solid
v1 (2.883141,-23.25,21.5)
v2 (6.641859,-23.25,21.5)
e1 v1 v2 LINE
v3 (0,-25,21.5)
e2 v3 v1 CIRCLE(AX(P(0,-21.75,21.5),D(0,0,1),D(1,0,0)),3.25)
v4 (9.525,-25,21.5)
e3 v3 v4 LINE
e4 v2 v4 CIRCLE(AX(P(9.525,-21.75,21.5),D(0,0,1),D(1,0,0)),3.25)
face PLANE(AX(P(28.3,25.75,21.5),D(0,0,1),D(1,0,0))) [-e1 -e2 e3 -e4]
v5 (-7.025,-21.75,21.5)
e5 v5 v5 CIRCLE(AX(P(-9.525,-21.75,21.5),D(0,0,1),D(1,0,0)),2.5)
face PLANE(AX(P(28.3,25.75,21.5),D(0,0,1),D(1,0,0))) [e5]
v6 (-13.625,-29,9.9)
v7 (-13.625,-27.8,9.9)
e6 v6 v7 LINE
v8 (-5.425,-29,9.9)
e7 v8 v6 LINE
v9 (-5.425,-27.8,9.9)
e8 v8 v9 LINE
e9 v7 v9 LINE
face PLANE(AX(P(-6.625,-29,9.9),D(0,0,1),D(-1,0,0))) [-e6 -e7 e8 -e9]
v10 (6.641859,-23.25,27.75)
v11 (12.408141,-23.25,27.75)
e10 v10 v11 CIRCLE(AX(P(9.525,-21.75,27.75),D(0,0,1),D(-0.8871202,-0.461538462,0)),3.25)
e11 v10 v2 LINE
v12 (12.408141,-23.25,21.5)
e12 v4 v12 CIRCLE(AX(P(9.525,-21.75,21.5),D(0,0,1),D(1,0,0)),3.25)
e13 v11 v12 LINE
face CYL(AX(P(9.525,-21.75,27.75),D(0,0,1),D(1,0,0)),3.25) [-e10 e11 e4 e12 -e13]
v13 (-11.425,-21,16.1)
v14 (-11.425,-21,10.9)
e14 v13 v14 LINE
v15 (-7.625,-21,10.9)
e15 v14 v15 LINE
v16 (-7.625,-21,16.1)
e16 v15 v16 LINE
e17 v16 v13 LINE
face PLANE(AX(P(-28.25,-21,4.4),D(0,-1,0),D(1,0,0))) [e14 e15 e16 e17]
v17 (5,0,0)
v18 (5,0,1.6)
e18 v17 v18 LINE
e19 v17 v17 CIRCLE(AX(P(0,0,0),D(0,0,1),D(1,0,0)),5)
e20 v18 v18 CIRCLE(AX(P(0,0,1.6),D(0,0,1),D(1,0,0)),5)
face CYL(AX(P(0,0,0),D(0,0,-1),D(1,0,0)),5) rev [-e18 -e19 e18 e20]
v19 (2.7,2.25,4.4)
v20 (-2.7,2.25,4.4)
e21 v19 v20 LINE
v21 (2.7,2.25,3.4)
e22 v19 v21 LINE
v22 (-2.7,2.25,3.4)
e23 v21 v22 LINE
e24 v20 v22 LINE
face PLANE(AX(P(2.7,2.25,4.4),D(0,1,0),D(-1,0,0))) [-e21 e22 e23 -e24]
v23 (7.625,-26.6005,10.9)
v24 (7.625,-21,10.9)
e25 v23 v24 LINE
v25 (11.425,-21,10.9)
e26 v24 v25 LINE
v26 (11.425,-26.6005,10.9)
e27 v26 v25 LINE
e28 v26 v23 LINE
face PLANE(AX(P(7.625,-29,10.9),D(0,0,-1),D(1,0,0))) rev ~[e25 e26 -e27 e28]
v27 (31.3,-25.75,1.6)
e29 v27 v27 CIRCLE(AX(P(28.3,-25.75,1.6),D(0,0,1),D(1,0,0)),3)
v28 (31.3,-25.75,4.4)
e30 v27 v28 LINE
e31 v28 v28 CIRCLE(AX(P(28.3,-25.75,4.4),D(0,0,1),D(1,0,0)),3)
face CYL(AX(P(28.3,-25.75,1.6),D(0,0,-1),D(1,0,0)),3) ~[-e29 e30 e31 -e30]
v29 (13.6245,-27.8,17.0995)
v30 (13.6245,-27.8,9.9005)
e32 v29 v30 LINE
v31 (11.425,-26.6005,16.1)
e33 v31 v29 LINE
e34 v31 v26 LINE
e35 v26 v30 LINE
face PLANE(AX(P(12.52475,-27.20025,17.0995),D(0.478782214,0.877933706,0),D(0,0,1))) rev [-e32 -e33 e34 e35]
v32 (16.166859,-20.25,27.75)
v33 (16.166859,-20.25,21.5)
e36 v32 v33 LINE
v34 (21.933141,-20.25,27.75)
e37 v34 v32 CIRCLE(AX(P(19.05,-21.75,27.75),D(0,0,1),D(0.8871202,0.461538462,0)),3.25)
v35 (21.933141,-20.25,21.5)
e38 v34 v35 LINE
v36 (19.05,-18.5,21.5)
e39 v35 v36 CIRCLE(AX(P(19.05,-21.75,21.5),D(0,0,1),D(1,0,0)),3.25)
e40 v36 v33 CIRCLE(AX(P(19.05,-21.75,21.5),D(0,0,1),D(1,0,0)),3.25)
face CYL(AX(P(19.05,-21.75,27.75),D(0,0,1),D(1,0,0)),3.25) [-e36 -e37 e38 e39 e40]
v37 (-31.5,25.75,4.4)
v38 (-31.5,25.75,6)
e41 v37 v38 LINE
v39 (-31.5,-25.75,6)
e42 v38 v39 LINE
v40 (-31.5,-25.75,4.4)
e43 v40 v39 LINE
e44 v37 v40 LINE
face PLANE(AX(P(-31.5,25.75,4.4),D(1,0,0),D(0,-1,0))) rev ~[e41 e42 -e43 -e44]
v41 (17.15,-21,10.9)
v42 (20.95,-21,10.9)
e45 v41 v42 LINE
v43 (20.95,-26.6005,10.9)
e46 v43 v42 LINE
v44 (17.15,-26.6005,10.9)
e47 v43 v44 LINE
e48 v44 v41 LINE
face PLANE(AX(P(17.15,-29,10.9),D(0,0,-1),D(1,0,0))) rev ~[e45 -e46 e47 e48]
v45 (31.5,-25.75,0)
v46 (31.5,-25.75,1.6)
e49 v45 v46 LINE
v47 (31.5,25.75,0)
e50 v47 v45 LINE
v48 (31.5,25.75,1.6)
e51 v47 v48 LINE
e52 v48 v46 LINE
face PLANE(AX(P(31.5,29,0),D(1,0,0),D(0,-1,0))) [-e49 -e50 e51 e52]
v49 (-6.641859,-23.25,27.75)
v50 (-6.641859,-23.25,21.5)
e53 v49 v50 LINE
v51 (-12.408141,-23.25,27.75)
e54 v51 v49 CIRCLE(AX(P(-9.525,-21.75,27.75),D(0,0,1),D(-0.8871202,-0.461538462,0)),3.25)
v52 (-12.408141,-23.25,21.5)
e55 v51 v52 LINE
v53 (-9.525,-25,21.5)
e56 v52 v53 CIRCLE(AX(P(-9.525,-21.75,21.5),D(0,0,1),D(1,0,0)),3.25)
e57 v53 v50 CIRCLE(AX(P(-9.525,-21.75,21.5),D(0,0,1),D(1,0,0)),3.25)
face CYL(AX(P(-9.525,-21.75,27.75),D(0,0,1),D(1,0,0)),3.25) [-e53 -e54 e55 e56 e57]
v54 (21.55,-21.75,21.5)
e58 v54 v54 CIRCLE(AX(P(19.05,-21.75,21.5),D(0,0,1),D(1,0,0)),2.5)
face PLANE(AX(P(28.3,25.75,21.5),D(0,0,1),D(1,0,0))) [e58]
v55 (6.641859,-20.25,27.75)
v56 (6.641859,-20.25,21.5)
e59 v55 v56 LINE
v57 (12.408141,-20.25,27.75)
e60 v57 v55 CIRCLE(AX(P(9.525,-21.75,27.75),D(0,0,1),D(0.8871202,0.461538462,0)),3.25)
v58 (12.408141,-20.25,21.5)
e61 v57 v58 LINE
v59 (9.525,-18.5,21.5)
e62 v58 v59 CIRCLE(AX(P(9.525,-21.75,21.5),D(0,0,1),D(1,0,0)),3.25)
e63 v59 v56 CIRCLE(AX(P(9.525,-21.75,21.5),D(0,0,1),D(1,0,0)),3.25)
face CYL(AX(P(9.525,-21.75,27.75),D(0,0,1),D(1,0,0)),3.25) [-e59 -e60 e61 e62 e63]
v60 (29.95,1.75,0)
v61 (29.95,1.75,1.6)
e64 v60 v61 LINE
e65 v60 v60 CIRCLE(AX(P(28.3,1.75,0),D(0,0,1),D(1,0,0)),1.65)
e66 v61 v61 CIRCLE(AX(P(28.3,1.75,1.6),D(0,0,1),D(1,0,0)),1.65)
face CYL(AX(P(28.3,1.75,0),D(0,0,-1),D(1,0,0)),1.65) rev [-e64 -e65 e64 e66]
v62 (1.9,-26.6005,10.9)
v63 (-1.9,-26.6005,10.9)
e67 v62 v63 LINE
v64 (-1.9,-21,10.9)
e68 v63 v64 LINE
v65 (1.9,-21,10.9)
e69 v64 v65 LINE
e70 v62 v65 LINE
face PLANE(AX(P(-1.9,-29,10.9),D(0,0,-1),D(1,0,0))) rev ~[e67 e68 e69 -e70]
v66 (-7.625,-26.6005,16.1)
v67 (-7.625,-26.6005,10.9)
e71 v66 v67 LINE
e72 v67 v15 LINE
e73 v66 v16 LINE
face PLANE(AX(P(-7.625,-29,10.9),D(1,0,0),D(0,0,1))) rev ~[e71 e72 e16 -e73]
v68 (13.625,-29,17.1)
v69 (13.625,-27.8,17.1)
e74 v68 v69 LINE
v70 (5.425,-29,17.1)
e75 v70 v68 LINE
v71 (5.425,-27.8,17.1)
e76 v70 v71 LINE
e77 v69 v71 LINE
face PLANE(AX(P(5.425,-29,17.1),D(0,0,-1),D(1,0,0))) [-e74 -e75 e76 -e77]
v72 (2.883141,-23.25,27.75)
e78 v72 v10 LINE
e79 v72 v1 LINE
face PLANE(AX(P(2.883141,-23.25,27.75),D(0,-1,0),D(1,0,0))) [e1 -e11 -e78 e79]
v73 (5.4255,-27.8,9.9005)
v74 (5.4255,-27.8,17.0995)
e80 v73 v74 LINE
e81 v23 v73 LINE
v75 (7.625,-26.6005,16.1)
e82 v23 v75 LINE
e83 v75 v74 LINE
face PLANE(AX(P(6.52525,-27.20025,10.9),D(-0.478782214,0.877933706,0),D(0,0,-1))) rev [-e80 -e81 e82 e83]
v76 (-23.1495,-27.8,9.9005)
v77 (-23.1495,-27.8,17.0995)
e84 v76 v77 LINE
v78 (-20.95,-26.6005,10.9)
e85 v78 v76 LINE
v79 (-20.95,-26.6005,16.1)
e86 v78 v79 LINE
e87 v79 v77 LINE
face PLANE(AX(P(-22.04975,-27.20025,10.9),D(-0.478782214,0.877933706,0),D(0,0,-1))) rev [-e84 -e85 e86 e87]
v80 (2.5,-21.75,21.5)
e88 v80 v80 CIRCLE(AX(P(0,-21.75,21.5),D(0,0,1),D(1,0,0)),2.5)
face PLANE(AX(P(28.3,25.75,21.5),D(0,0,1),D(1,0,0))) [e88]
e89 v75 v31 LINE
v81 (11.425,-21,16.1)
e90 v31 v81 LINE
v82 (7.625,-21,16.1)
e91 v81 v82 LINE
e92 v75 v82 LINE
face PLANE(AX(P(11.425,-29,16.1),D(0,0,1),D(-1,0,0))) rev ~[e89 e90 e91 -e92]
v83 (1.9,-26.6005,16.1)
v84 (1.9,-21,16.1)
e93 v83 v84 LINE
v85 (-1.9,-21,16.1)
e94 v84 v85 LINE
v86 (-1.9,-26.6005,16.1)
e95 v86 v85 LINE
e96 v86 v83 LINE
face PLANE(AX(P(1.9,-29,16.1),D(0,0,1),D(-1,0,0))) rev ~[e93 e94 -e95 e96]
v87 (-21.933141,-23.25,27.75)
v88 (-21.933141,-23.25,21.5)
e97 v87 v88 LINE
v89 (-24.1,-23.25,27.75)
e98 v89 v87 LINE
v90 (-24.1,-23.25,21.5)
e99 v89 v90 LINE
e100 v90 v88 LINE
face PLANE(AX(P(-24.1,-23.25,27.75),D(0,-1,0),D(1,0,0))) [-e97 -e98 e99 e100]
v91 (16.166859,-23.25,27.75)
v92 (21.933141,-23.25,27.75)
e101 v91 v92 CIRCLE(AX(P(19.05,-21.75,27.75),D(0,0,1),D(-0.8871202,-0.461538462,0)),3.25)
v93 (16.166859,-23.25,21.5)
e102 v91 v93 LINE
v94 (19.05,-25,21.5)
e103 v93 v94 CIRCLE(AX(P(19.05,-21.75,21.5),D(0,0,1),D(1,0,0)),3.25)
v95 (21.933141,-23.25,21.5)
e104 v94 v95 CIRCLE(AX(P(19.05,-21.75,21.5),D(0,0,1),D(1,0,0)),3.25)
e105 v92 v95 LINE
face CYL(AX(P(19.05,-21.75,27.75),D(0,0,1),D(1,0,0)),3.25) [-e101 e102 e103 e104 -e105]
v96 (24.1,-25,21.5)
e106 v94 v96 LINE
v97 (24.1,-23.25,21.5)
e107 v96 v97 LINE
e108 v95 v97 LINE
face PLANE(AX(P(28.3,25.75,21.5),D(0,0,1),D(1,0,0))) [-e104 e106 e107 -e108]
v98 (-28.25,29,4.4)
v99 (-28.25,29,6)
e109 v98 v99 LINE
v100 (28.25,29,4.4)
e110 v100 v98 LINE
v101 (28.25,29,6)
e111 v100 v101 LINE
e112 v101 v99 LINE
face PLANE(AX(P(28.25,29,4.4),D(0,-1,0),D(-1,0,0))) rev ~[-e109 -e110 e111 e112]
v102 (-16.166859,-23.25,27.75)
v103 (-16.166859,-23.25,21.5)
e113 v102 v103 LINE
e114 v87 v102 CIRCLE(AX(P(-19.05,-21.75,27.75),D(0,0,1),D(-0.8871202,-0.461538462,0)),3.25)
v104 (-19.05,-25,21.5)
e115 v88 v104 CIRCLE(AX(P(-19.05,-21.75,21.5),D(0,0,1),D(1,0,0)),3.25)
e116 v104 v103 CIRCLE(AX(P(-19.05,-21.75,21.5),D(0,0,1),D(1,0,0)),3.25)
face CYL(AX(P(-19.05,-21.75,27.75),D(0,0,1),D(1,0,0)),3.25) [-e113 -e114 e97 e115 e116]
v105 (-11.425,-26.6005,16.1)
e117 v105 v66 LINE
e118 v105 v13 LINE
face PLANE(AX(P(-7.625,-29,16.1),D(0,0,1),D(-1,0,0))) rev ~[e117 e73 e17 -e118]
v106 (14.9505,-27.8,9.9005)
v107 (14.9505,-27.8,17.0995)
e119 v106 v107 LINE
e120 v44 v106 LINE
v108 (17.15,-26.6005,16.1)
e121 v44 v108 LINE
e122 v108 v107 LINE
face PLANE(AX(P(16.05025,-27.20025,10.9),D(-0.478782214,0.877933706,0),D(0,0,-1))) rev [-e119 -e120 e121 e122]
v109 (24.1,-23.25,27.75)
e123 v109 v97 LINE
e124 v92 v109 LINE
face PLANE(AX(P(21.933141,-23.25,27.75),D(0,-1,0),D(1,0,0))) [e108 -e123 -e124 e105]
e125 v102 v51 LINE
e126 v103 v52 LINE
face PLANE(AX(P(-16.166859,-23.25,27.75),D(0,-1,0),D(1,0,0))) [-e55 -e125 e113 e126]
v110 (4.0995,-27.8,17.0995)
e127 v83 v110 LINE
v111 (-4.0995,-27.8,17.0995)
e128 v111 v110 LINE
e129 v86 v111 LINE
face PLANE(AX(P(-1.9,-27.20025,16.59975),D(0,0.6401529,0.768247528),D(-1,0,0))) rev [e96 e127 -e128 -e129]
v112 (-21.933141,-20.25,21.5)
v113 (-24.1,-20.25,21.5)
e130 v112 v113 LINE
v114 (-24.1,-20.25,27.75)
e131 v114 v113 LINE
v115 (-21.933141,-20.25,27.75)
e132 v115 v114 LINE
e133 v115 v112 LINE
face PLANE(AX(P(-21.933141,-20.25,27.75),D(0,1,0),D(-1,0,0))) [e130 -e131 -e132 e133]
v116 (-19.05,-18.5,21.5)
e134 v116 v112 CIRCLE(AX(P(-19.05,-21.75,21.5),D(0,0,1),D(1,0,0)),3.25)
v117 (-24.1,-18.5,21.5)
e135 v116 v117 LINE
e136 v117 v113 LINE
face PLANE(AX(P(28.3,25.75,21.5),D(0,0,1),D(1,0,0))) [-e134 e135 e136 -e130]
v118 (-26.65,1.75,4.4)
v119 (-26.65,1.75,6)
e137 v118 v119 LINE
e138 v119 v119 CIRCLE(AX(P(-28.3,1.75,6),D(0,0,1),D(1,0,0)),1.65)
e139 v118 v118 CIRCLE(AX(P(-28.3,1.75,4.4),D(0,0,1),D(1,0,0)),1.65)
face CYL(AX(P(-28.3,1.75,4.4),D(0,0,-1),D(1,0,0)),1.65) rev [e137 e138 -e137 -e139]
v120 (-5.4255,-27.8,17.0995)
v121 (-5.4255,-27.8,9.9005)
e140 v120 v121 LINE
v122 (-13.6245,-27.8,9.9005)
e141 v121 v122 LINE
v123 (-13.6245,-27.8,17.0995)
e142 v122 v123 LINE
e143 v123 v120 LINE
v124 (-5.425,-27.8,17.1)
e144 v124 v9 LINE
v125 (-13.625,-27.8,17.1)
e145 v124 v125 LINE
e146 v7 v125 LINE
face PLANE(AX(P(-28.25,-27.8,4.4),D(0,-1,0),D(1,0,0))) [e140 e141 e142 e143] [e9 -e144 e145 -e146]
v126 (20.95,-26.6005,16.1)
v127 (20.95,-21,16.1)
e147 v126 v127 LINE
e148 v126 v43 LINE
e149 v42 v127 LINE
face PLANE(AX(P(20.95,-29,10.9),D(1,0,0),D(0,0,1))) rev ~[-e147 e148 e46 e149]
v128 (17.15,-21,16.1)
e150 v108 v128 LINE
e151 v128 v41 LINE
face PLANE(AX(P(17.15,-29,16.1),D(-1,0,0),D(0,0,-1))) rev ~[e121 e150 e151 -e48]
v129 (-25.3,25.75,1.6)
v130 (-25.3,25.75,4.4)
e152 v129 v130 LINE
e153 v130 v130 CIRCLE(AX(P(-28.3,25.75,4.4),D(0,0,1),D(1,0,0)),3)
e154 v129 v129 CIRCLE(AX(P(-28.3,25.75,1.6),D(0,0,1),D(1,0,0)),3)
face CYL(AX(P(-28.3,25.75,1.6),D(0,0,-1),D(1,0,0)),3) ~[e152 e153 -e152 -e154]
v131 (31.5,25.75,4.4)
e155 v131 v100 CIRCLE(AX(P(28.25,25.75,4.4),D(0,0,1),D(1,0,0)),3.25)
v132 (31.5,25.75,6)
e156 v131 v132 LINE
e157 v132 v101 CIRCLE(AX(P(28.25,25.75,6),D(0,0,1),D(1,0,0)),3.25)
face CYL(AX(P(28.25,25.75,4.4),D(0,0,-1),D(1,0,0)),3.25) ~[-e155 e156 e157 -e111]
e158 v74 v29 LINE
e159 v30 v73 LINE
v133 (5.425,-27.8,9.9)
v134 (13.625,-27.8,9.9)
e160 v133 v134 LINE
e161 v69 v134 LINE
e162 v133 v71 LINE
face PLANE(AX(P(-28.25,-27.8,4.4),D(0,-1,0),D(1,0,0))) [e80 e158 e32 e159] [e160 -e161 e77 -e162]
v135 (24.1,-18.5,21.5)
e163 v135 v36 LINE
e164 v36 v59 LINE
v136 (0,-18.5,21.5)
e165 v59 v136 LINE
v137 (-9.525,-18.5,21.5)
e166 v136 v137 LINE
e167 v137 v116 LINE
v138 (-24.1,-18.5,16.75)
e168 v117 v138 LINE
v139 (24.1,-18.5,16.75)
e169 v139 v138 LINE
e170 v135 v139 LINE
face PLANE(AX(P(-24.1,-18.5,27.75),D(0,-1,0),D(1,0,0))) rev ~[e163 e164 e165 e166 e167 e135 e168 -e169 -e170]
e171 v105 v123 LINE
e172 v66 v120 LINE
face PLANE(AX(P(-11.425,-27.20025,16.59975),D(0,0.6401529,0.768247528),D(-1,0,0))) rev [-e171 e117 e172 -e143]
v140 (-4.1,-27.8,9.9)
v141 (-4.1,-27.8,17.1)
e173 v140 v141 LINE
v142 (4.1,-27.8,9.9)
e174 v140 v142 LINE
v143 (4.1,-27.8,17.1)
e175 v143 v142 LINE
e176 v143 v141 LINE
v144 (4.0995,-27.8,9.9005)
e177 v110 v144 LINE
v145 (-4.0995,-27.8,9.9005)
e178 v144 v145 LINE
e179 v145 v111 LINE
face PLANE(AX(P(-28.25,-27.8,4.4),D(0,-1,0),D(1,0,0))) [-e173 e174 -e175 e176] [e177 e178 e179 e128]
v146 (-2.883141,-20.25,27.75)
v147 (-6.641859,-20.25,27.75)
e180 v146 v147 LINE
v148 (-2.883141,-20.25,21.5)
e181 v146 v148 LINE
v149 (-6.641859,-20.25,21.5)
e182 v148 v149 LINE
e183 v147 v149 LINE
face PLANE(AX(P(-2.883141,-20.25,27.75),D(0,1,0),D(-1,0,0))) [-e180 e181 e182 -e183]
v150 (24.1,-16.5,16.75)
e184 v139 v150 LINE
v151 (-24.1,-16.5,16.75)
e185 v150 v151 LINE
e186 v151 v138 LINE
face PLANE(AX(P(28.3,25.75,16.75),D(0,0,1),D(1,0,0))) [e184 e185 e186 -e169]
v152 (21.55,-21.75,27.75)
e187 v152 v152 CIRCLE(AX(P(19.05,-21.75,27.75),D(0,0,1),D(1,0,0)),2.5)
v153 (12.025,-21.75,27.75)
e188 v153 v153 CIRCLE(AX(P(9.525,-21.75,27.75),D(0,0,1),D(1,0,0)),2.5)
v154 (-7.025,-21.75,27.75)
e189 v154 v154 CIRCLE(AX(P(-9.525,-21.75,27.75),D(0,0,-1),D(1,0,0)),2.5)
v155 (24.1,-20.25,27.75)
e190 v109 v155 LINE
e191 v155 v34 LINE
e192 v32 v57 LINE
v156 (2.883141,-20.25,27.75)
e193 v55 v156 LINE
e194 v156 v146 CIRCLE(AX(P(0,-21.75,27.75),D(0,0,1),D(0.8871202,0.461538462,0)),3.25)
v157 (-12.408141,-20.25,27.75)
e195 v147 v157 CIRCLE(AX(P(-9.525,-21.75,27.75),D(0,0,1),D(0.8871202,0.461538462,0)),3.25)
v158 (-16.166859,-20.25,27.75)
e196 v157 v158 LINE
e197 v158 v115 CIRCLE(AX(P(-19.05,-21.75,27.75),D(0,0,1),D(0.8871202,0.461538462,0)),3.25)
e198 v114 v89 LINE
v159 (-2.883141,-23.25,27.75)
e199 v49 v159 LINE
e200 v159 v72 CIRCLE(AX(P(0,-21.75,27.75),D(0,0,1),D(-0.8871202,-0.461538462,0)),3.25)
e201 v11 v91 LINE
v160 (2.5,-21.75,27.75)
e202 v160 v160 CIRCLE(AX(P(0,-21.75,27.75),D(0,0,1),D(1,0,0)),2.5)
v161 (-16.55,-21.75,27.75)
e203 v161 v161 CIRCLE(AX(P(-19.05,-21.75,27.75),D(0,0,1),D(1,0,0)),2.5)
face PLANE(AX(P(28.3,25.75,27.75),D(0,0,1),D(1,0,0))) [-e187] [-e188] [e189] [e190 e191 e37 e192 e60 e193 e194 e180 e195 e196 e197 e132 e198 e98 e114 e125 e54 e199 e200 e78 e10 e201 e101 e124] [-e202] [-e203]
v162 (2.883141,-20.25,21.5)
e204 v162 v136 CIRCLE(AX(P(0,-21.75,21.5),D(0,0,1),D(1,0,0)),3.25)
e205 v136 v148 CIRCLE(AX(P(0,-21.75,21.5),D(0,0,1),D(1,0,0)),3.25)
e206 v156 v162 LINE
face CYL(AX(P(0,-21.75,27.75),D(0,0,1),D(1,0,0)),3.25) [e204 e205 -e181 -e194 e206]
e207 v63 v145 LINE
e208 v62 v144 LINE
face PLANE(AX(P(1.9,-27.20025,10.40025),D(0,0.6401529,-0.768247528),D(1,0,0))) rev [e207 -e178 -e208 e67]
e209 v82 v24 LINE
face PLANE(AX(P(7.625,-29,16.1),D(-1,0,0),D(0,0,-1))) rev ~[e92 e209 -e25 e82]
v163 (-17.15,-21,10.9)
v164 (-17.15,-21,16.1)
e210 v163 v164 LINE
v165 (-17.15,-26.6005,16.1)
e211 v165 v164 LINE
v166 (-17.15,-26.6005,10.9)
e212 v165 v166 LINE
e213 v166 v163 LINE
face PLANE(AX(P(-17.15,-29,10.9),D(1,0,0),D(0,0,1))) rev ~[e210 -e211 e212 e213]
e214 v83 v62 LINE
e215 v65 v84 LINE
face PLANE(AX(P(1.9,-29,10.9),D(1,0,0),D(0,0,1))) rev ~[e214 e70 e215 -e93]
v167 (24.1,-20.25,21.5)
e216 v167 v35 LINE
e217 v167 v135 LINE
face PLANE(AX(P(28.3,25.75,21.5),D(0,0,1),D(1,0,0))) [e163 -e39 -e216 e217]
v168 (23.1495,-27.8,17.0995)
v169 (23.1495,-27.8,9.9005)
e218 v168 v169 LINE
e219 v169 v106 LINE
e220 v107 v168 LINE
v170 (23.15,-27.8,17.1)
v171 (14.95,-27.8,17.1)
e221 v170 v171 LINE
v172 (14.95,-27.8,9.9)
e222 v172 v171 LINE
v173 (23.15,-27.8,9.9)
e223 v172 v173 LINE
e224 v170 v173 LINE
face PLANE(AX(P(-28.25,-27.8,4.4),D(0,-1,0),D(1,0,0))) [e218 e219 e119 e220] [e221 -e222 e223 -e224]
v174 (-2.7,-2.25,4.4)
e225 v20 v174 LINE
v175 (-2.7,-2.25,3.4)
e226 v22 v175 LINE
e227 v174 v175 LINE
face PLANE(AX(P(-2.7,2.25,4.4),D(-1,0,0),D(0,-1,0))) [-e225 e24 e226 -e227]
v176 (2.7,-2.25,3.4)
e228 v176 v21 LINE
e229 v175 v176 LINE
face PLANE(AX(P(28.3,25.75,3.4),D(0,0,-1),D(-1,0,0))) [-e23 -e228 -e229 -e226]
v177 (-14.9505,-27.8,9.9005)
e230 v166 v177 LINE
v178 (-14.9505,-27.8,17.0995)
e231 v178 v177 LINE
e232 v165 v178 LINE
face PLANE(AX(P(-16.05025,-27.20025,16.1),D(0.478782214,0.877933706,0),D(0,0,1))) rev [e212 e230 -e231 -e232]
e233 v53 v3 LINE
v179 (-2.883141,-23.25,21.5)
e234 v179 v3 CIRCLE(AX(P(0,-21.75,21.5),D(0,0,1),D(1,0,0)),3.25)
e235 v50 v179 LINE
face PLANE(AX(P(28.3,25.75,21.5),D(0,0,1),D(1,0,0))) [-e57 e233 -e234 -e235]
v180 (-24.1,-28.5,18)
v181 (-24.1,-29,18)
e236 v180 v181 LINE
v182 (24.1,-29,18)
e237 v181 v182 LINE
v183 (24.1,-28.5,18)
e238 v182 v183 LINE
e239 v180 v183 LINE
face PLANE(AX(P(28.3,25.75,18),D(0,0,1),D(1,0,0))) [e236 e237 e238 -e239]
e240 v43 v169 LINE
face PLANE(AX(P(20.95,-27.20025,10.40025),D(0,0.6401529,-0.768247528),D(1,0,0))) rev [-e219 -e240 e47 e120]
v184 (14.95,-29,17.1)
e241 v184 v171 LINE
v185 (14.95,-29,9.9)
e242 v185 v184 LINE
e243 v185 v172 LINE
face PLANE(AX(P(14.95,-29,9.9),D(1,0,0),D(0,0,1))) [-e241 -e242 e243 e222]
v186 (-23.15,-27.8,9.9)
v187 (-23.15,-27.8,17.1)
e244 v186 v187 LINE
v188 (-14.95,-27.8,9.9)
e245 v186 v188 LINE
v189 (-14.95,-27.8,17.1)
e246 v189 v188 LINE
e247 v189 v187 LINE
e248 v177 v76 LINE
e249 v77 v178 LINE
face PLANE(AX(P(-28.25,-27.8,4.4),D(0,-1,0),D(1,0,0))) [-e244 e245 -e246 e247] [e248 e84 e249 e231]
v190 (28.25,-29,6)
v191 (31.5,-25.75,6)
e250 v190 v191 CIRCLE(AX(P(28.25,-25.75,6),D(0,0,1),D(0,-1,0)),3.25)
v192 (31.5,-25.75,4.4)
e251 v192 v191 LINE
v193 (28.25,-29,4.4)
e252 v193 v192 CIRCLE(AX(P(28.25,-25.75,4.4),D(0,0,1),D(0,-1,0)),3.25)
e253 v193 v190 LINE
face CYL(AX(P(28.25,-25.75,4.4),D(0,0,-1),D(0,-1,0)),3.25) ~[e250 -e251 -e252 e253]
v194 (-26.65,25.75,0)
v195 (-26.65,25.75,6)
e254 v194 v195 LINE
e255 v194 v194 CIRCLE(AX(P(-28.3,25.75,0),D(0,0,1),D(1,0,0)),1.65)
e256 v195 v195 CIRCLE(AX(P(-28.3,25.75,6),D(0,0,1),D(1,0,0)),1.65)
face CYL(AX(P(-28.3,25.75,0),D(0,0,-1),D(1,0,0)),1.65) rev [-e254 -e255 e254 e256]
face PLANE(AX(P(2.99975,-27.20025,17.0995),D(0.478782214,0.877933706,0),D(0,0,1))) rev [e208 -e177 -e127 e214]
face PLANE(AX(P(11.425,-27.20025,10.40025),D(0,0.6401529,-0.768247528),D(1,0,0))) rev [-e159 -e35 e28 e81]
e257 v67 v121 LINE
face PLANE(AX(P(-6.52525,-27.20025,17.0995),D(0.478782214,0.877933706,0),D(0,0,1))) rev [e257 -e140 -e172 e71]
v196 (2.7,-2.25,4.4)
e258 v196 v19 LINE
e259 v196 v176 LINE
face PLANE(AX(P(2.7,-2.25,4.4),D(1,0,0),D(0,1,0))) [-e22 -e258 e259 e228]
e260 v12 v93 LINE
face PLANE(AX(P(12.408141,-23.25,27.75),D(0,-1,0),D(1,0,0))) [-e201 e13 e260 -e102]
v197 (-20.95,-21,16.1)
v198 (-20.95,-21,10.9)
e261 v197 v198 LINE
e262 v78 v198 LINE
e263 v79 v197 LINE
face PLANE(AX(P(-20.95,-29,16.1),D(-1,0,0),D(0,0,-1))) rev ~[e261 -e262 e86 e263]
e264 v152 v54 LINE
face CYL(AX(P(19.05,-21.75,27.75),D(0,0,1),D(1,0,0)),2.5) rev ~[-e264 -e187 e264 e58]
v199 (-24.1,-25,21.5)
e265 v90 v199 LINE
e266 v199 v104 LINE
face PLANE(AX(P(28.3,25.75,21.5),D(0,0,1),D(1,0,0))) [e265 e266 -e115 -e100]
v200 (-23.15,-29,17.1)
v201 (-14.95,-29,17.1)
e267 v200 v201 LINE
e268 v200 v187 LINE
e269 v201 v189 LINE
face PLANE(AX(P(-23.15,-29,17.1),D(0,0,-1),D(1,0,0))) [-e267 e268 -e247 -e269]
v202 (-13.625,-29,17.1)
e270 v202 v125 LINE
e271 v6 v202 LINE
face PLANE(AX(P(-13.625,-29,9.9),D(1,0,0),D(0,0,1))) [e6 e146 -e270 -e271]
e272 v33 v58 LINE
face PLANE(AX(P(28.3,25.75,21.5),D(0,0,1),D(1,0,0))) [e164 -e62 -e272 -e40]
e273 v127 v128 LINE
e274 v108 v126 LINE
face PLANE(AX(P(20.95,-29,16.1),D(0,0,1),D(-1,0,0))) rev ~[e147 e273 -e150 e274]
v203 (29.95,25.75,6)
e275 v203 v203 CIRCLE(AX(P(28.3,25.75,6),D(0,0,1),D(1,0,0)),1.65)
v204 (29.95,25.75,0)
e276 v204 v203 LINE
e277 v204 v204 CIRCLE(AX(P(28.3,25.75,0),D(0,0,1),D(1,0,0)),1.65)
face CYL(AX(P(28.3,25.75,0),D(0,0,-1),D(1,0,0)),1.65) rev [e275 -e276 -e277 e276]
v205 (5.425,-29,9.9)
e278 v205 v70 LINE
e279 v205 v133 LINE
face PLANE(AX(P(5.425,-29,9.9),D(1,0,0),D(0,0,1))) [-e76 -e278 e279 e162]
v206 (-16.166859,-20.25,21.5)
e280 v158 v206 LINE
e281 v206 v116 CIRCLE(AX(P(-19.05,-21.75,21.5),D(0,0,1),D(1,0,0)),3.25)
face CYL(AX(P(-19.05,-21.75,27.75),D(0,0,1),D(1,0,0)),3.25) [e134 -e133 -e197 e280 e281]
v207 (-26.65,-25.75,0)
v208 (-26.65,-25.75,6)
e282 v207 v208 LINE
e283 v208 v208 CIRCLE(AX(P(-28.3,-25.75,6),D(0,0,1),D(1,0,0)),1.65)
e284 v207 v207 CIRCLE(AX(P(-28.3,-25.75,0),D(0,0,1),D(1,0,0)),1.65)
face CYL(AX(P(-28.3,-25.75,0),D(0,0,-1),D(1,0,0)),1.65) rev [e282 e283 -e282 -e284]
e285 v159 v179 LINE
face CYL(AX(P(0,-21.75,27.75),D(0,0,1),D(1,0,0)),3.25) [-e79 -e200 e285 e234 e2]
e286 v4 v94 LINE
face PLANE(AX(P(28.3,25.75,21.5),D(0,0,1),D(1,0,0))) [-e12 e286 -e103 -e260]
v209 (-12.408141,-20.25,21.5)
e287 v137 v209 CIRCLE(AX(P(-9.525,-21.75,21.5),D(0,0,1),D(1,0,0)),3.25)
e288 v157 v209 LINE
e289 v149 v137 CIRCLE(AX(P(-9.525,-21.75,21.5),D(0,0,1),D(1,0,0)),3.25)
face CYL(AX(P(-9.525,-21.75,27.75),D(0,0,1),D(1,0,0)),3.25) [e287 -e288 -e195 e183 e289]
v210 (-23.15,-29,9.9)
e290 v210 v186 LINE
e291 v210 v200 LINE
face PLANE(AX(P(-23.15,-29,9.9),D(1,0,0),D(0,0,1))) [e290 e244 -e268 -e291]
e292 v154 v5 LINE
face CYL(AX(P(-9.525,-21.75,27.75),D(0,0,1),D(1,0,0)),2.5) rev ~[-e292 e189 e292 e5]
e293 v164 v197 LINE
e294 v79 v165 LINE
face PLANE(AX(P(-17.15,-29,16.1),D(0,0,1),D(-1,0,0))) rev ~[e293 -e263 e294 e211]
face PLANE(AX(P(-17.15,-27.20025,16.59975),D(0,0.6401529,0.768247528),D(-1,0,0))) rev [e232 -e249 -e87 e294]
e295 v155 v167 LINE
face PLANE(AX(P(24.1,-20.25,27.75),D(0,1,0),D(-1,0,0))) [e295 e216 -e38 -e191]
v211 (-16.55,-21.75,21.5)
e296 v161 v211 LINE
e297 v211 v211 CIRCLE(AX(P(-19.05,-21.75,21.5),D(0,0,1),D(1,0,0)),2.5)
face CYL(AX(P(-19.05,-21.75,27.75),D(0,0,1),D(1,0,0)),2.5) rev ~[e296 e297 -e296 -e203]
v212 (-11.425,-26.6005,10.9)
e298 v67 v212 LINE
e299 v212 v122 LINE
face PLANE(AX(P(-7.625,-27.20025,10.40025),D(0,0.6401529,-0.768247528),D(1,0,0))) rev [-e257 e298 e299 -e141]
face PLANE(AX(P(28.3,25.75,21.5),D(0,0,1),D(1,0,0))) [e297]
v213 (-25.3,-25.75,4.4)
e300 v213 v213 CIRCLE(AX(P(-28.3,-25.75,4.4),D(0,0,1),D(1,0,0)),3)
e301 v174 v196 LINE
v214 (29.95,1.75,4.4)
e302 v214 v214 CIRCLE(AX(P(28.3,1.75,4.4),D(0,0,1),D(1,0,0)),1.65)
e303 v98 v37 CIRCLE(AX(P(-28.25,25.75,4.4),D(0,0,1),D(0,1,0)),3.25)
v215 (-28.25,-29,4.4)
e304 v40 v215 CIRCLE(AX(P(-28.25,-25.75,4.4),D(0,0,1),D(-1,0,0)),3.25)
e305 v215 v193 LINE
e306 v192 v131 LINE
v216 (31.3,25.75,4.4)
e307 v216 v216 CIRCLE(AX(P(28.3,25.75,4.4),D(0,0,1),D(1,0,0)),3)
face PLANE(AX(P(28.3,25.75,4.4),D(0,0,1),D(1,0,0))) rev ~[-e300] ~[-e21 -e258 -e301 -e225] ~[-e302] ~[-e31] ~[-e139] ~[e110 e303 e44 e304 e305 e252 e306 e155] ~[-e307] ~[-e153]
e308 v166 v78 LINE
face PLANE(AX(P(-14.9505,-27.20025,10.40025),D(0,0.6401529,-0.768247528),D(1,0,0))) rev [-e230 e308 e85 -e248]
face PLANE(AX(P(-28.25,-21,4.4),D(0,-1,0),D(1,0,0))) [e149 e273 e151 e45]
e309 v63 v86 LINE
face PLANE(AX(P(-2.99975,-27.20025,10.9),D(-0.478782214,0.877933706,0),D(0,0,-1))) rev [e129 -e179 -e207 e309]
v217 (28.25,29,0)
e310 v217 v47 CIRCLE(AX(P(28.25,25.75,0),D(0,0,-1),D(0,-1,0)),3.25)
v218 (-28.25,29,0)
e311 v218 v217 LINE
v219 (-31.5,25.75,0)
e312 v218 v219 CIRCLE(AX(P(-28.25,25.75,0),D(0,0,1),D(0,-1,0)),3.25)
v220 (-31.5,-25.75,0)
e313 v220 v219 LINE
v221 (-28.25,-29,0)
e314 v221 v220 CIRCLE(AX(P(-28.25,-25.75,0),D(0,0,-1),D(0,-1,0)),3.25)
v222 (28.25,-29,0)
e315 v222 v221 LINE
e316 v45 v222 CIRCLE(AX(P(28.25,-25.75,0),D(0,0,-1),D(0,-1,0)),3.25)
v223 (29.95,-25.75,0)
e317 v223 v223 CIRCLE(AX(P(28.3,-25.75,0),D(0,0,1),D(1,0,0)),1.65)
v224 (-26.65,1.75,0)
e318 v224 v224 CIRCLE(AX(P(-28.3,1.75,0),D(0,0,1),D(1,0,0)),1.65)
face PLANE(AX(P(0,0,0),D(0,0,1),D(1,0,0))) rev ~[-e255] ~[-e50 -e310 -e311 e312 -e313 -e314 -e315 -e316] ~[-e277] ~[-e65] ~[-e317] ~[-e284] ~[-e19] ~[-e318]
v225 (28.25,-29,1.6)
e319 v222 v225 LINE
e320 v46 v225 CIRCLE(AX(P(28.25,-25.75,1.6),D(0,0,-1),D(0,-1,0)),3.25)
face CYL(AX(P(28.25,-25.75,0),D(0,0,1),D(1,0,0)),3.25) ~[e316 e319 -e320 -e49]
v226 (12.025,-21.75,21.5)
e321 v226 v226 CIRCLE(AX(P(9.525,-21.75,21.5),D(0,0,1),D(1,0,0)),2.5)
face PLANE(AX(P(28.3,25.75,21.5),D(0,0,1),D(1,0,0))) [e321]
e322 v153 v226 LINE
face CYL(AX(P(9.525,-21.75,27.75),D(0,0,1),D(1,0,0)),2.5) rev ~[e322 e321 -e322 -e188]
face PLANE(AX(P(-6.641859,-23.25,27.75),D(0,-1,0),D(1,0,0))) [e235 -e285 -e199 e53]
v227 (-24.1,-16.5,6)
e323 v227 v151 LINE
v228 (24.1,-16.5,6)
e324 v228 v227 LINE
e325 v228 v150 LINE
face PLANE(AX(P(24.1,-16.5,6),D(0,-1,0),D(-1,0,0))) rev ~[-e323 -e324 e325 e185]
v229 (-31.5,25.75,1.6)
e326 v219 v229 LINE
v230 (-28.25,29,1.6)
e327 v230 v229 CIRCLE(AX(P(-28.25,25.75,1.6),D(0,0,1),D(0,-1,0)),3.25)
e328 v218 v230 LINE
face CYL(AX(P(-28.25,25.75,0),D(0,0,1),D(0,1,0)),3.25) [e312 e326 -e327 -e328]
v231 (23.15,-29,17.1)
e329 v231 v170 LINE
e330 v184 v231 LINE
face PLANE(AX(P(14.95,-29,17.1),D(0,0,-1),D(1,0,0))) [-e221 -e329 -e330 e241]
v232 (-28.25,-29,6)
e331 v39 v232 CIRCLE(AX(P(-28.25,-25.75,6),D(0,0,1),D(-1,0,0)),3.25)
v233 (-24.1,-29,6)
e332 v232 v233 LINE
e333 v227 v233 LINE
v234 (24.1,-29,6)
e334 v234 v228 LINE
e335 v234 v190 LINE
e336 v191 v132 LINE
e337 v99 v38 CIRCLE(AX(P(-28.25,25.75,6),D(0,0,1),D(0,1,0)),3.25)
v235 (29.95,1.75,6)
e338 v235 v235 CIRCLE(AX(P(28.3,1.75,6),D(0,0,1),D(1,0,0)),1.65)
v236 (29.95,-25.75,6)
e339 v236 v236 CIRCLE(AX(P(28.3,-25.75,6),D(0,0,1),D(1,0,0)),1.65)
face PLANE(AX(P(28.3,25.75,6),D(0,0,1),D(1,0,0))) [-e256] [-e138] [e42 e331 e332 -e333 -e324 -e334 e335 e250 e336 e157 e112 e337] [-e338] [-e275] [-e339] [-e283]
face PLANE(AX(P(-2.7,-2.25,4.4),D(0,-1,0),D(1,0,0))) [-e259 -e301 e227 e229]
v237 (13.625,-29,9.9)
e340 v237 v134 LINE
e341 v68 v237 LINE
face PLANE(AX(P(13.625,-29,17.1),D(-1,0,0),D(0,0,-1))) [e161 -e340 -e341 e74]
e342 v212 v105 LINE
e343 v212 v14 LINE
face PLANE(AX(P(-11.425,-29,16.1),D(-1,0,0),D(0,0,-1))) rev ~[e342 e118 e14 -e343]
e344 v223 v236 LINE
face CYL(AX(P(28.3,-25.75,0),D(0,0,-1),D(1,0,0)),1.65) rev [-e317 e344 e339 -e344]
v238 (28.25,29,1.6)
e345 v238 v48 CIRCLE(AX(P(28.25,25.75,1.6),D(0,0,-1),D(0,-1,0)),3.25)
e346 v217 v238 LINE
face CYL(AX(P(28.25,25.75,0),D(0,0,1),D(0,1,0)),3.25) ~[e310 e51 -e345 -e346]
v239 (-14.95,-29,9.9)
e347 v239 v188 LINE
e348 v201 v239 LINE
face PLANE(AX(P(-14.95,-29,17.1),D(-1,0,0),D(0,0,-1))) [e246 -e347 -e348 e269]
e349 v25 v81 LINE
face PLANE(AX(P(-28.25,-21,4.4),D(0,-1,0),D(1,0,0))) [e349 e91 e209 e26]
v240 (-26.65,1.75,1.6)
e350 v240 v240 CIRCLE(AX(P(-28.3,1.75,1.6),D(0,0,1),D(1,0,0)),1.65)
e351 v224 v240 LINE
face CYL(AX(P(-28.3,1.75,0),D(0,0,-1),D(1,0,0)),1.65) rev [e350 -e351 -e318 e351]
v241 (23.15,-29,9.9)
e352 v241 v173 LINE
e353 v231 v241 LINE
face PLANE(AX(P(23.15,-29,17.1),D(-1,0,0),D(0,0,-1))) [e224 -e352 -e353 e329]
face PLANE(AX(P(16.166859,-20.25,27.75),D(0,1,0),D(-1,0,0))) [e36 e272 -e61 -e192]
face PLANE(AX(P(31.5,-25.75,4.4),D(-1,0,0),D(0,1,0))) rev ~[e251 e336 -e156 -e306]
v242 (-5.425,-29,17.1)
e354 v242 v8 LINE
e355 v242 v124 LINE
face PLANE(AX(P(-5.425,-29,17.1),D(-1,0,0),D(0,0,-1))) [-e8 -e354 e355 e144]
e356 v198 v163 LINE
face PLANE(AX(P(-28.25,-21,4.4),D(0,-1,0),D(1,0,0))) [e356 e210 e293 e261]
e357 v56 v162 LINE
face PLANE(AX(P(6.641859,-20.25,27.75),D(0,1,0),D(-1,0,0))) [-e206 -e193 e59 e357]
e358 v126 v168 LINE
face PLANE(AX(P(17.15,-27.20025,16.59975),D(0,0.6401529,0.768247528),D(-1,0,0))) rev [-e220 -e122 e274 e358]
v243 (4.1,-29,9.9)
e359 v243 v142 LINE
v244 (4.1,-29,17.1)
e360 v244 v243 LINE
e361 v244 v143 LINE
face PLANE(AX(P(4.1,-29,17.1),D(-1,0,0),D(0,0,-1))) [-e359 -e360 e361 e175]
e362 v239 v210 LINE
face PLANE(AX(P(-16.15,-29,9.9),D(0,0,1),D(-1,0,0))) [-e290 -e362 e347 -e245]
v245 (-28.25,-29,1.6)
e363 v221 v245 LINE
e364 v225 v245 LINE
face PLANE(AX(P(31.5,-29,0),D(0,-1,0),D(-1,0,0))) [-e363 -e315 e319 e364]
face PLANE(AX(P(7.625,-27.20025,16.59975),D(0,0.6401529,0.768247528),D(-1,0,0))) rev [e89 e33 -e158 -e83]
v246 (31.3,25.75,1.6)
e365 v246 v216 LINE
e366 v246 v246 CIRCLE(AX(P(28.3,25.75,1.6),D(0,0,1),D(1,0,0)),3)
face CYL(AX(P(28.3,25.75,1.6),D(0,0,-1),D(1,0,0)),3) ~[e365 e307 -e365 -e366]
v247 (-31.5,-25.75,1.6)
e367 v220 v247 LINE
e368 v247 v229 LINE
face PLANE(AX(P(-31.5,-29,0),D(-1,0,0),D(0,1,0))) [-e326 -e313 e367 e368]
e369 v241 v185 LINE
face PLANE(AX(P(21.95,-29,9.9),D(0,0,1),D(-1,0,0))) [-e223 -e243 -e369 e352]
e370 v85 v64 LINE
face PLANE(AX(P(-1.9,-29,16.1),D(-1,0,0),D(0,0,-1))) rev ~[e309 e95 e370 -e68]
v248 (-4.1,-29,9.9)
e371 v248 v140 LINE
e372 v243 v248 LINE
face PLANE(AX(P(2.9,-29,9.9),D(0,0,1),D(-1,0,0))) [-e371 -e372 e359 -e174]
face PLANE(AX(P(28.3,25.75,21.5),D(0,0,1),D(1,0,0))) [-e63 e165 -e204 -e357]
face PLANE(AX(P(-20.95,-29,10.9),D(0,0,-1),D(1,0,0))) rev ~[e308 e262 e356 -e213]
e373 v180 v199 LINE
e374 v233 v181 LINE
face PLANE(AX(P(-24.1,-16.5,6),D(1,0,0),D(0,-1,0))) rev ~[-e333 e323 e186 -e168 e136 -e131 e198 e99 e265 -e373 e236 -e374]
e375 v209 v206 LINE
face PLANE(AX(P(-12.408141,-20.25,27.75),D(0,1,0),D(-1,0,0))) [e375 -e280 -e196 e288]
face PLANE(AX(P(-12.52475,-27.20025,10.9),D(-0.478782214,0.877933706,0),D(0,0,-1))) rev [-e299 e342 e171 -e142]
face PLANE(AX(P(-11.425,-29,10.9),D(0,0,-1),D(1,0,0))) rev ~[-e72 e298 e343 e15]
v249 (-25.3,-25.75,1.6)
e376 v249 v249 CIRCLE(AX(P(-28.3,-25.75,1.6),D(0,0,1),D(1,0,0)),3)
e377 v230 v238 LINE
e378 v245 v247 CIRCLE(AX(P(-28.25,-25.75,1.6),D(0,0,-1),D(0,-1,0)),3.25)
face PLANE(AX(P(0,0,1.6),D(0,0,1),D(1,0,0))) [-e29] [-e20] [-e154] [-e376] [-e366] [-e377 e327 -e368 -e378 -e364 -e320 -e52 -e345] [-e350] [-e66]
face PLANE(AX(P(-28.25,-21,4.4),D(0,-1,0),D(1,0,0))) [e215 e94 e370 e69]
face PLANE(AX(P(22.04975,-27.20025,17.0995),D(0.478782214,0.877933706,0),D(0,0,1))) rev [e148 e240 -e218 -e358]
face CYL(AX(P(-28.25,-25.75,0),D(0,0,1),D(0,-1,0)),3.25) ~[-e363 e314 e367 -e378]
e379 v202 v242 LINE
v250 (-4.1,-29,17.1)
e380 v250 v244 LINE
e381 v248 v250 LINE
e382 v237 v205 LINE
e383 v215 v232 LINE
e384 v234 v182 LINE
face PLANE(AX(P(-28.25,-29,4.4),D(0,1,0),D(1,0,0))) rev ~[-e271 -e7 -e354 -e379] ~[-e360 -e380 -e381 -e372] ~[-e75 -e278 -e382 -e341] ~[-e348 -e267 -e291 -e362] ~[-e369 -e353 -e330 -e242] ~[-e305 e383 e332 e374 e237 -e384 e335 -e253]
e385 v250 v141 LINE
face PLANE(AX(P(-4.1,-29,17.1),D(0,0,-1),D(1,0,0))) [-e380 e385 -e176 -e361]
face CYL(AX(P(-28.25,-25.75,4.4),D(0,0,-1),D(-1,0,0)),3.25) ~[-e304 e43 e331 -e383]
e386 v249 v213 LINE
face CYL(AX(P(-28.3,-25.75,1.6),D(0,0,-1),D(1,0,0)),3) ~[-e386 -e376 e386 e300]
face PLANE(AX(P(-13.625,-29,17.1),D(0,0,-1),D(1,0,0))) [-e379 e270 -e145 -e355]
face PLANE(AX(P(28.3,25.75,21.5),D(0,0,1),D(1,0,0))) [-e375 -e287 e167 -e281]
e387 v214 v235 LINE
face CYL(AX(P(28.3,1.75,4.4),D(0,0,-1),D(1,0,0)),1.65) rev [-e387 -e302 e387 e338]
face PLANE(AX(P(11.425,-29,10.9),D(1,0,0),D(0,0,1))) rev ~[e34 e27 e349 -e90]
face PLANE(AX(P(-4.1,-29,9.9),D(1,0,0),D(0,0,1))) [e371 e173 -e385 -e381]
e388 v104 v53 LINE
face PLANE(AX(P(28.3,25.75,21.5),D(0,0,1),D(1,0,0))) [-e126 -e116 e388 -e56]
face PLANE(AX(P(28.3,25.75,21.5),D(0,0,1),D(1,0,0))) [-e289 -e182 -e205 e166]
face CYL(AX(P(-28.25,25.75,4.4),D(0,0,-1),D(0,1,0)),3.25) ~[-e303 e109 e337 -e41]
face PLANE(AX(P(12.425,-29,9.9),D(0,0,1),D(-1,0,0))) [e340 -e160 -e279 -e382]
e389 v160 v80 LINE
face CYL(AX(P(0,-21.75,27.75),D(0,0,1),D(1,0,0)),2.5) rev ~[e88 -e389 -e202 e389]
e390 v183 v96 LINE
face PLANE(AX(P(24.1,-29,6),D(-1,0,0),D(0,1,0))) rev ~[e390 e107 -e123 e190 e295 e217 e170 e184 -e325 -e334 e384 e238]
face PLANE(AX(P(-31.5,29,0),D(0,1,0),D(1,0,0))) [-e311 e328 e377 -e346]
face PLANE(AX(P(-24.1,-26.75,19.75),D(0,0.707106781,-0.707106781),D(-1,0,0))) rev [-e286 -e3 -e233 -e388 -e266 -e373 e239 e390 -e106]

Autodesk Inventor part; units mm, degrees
ref_plane "YZ Plane" through (0, 0, 0) normal (1, 0, 0) x (0, 1, 0)
ref_plane "XZ Plane" through (0, 0, 0) normal (0, 1, 0) x (-1, 0, 0)
ref_plane "XY Plane" through (0, 0, 0) normal (0, 0, 1) x (1, 0, 0)
sketch "스케치8" plane through (0, 0, 0) normal (0, 0, 1) x (1, 0, 0)
  line L0 (-31.5, 29) -> (31.5, 29)
  line L1 (31.5, 29) -> (31.5, -29)
  line L2 (31.5, -29) -> (-31.5, -29)
  line L3 (-31.5, -29) -> (-31.5, 29)
  line L4 (-28.3, 25.75) -> (28.3, 25.75) construction
  line L5 (28.3, 25.75) -> (28.3, -25.75) construction
  line L6 (28.3, -25.75) -> (-28.3, -25.75) construction
  line L7 (-28.3, -25.75) -> (-28.3, 25.75) construction
  circle A0 centre (28.3, 25.75) radius 1.65
  circle A1 centre (-28.3, 25.75) radius 1.65
  circle A2 centre (-28.3, -25.75) radius 1.65
  circle A3 centre (28.3, -25.75) radius 1.65
  line L8 (-28.3, 25.75) -> (-28.3, 1.75) construction
  line L9 (-28.3, 1.75) -> (28.3, 1.75) construction
  circle A4 centre (-28.3, 1.75) radius 1.65
  circle A5 centre (28.3, 1.75) radius 1.65
  circle A6 centre (0, 0) radius 5
  dimension "d22" = 63
  dimension "d23" = 58
  dimension "d24" = 56.6
  dimension "d25" = 51.5
  dimension "d26" = 3.3
  dimension "d27" = 3.3
  dimension "d28" = 3.3
  dimension "d29" = 3.3
  dimension "d30" = 24
  dimension "d31" = 3.3
  dimension "d32" = 3.3
  dimension "d33" = 10
extrude "돌출6" add sketch "스케치8" along normal blind 1.6
sketch "스케치9" plane through (0, 0, 1.6) normal (0, 0, 1) x (1, 0, 0)
  point P0 (0, 0)
fillet "모깎기1" radius 3.25 4 edges at (-31.5, -29, 0.8) (-31.5, 29, 0.8) (31.5, 29, 0.8) (31.5, -29, 0.8)
sketch "스케치10" plane through (0, 0, 1.6) normal (0, 0, 1) x (1, 0, 0)
  arc A0 (28.25, -29) -> (31.5, -25.75) centre (28.25, -25.75) ccw projected
  line L0 (31.5, -25.75) -> (31.5, 25.75) projected
  arc A1 (31.5, 25.75) -> (28.25, 29) centre (28.25, 25.75) ccw projected
  line L1 (28.25, 29) -> (-28.25, 29) projected
  arc A2 (-28.25, 29) -> (-31.5, 25.75) centre (-28.25, 25.75) ccw projected
  line L2 (-31.5, 25.75) -> (-31.5, -25.75) projected
  arc A3 (-31.5, -25.75) -> (-28.25, -29) centre (-28.25, -25.75) ccw projected
  line L3 (-28.25, -29) -> (28.25, -29) projected
  circle A4 centre (28.3, 25.75) radius 1.65 projected
  circle A5 centre (-28.3, 25.75) radius 1.65 projected
  circle A6 centre (-28.3, -25.75) radius 1.65 projected
  circle A7 centre (28.3, -25.75) radius 1.65 projected
  circle A8 centre (-28.3, 1.75) radius 1.65 projected
  circle A9 centre (28.3, 1.75) radius 1.65 projected
  circle A10 centre (0, 0) radius 5 construction
  circle A11 centre (28.3, -25.75) radius 3
  line L4 (0, 0) -> (0, -16) construction
  line L5 (0, 0) -> (-14, 0) construction
  circle A12 centre (-28.3, -25.75) radius 3
  circle A13 centre (28.3, 25.75) radius 3
  circle A14 centre (-28.3, 25.75) radius 3
  dimension "d37" = 6
extrude "돌출7" add sketch "스케치10" along normal blind 2.8 contours A11 | A12 | A13 | A14
sketch "스케치11" plane through (28.3, 25.75, 4.4) normal (0, 0, 1) x (1, 0, 0)
  circle A0 centre (-56.6, -51.5) radius 3 projected
  circle A1 centre (-56.6, 0) radius 3 projected
  circle A2 centre (0, -51.5) radius 3 projected
  circle A3 centre (0, 0) radius 3 projected
  arc A4 (-0.05, -54.75) -> (3.2, -51.5) centre (-0.05, -51.5) ccw projected
  line L0 (3.2, -51.5) -> (3.2, 0) projected
  arc A5 (3.2, 0) -> (-0.05, 3.25) centre (-0.05, 0) ccw projected
  line L1 (-0.05, 3.25) -> (-56.55, 3.25) projected
  arc A6 (-56.55, 3.25) -> (-59.8, 0) centre (-56.55, 0) ccw projected
  line L2 (-59.8, 0) -> (-59.8, -51.5) projected
  arc A7 (-59.8, -51.5) -> (-56.55, -54.75) centre (-56.55, -51.5) ccw projected
  line L3 (-56.55, -54.75) -> (-0.05, -54.75) projected
  circle A8 centre (-56.6, -24) radius 1.65 projected
  circle A9 centre (0, -24) radius 1.65 projected
  circle A10 centre (-28.3, -25.75) radius 5 projected
  circle A11 centre (0, 0) radius 3 projected
  circle A12 centre (0, 0) radius 1.65 projected
  circle A13 centre (-56.6, 0) radius 3 projected
  circle A14 centre (-56.6, 0) radius 1.65 projected
  circle A15 centre (-56.6, -51.5) radius 1.65 projected
  circle A16 centre (0, -51.5) radius 1.65 projected
extrude "돌출8" add sketch "스케치11" along normal blind 1.6 contours A0 | A1 | A2 | A3 | L3 A7 L2 A6 L1 A5 L0 A4 | A10
sketch "스케치12" plane through (28.3, 25.75, 4.4) normal (0, 0, -1) x (-1, 0, 0)
  line L0 (25.6, -23.5) -> (31, -23.5)
  line L1 (31, -23.5) -> (31, -28)
  line L2 (31, -28) -> (25.6, -28)
  line L3 (25.6, -28) -> (25.6, -23.5)
  line L4 (25.6, -23.5) -> (31, -28) construction
  line L5 (31, -23.5) -> (25.6, -28) construction
  point P0 (28.3, -25.75)
extrude "돌출9" add sketch "스케치12" along normal blind 1
sketch "스케치13" plane through (28.3, 25.75, 6) normal (0, 0, 1) x (1, 0, 0)
  line L0 (3.2, -51.5) -> (3.2, 0) projected
  arc A0 (3.2, 0) -> (-0.05, 3.25) centre (-0.05, 0) ccw projected
  line L1 (-0.05, 3.25) -> (-56.55, 3.25) projected
  arc A1 (-56.55, 3.25) -> (-59.8, 0) centre (-56.55, 0) ccw projected
  line L2 (-59.8, 0) -> (-59.8, -51.5) projected
  arc A2 (-59.8, -51.5) -> (-56.55, -54.75) centre (-56.55, -51.5) ccw projected
  line L3 (-56.55, -54.75) -> (-0.05, -54.75) projected
  arc A3 (-0.05, -54.75) -> (3.2, -51.5) centre (-0.05, -51.5) ccw projected
  circle A4 centre (-56.6, -51.5) radius 1.65 projected
  circle A5 centre (0, -51.5) radius 1.65 projected
  circle A6 centre (0, 0) radius 1.65 projected
  circle A7 centre (-56.6, 0) radius 1.65 projected
  circle A8 centre (-56.6, -24) radius 1.65 projected
  circle A9 centre (0, -24) radius 1.65 projected
  line L4 (-28.3, -54.75) -> (-28.3, -48.5)
  line L5 (-4.2, -42.25) -> (-52.4, -42.25)
  line L6 (-52.4, -42.25) -> (-52.4, -54.75)
  line L7 (-52.4, -54.75) -> (-4.2, -54.75)
  line L8 (-4.2, -54.75) -> (-4.2, -42.25)
  line L9 (-4.2, -42.25) -> (-52.4, -54.75) construction
  line L10 (-52.4, -42.25) -> (-4.2, -54.75) construction
  point P0 (-28.3, -25.75)
  dimension "d44" = 6.25
  dimension "d45" = 48.2
extrude "돌출10" add sketch "스케치13" along normal blind 21.75 contours L3 L6 L5 L8
sketch "스케치14" plane through (28.3, 25.75, 27.75) normal (0, 0, 1) x (1, 0, 0)
  line L0 (-52.4, -42.25) -> (-52.4, -54.75) projected
  line L1 (-52.4, -54.75) -> (-4.2, -54.75) projected
  line L2 (-4.2, -54.75) -> (-4.2, -42.25) projected
  line L3 (-4.2, -42.25) -> (-52.4, -42.25) projected
  line L4 (-28.3, -42.25) -> (-28.3, -44.25)
  line L5 (-52.4, -44.25) -> (-4.2, -44.25)
  line L6 (-52.4, -50.75) -> (-4.2, -50.75)
  point P0 (-28.3, -25.75)
extrude "돌출11" cut sketch "스케치14" against normal blind 11 contours L3 L4 L5 L0 | L3 L2 L5 L4
extrude "돌출12" cut sketch "스케치14" against normal blind 9.75 contours L6 L2 L1 L0
chamfer "모따기1" distance 3.5 angle 45 1 edges at (0, -25, 18)
sketch "스케치15" plane through (28.3, 25.75, 27.75) normal (0, 0, 1) x (1, 0, 0)
  line L0 (-52.4, -50.75) -> (-4.2, -50.75) projected
  line L1 (-4.2, -50.75) -> (-4.2, -44.25) projected
  line L2 (-4.2, -44.25) -> (-52.4, -44.25) projected
  line L3 (-52.4, -44.25) -> (-52.4, -50.75) projected
  circle A0 centre (-28.3, -47.5) radius 3.25
  line L4 (-4.2, -47.5) -> (-6, -47.5)
  circle A1 centre (-9.25, -47.5) radius 3.25
  circle A2 centre (-18.775, -47.5) radius 3.25
  circle A3 centre (-47.35, -47.5) radius 3.25
  circle A4 centre (-37.825, -47.5) radius 3.25
  line L5 (-4.2, -46) -> (-52.4, -46)
  line L6 (-52.4, -49) -> (-4.2, -49)
  point P0 (-28.3, -25.75)
  point P1 (-6.3669, -49)
  point P2 (-9.25, -50.75)
  point P3 (-50.2331, -49)
  point P4 (-47.35, -50.75)
  point P5 (-40.7081, -49)
  point P6 (-44.4669, -49)
  point P7 (-37.825, -50.75)
  point P8 (-31.1831, -49)
  point P9 (-34.9419, -49)
  point P10 (-28.3, -50.75)
  point P11 (-21.6581, -49)
  point P12 (-25.4169, -49)
  point P13 (-18.775, -50.75)
  point P14 (-12.1331, -49)
  point P15 (-15.8919, -49)
  point P16 (-50.2331, -46)
  point P17 (-47.35, -44.25)
  point P18 (-44.4669, -46)
  point P19 (-40.7081, -46)
  point P20 (-37.825, -44.25)
  point P21 (-34.9419, -46)
  point P22 (-31.1831, -46)
  point P23 (-28.3, -44.25)
  point P24 (-25.4169, -46)
  point P25 (-21.6581, -46)
  point P26 (-18.775, -44.25)
  point P27 (-15.8919, -46)
  point P28 (-12.1331, -46)
  point P29 (-9.25, -44.25)
  point P30 (-6.3669, -46)
  dimension "d57" = 22.3
extrude "돌출13" cut sketch "스케치15" against normal blind 6.25 contours L3 L6 A3 L0 | A3 L6 A4 L0 | A4 L6 A0 L0 | L3 L2 A3 L5 | A0 L6 A2 L0 | A2 L6 A1 L0 | L5 A3 L2 A4 | A1 L6 L1 L0 | L5 A4 L2 A0 | L5 A0 L2 A2 | L5 A2 L2 A1 | L2 L1 L5 A1
sketch "스케치16" plane through (28.3, 25.75, 27.75) normal (0, 0, 1) x (1, 0, 0)
  arc A0 (-50.2331, -49) -> (-44.4669, -49) centre (-47.35, -47.5) ccw projected
  circle A1 centre (-47.35, -47.5) radius 2.5
  arc A2 (-40.7081, -49) -> (-34.9419, -49) centre (-37.825, -47.5) ccw projected
  line L0 (-47.35, -47.5) -> (-37.825, -47.5)
  circle A3 centre (-37.825, -47.5) radius 2.5
  circle A4 centre (-28.3, -47.5) radius 2.5
  circle A5 centre (-18.775, -47.5) radius 2.5
  circle A6 centre (-9.25, -47.5) radius 2.5
  point P0 (-28.3, -25.75)
  dimension "d60" = 5
  dimension "d63" = 9.525
extrude "돌출14" cut sketch "스케치16" against normal up to surface (6.25 mm away)
sketch "스케치17" plane through (-28.25, -29, 4.4) normal (0, -1, 0) x (1, 0, 0)
  line L0 (52.35, 13.6) -> (4.15, 13.6) projected
  line L1 (4.15, 1.6) -> (4.15, 13.6) projected
  line L2 (0, 1.6) -> (4.15, 1.6) projected
  line L3 (0, 0) -> (0, 1.6) projected
  line L4 (0, 0) -> (56.5, 0) projected
  line L5 (56.5, 0) -> (56.5, 1.6) projected
  line L6 (52.35, 1.6) -> (56.5, 1.6) projected
  line L7 (52.35, 1.6) -> (52.35, 13.6) projected
  line L8 (52.35, 1.6) -> (47.3, 1.6)
  line L9 (4.15, 1.6) -> (52.35, 1.6) projected
  line L10 (47.3, 6.5) -> (47.3, 1.6)
  line L11 (47.3, 6.5) -> (47.3, 9.1)
  line L12 (49.2, 11.7) -> (45.4, 11.7)
  line L13 (45.4, 11.7) -> (45.4, 6.5)
  line L14 (45.4, 6.5) -> (49.2, 6.5)
  line L15 (49.2, 6.5) -> (49.2, 11.7)
  line L16 (49.2, 11.7) -> (45.4, 6.5) construction
  line L17 (45.4, 11.7) -> (49.2, 6.5) construction
  line L18 (50.1831, 23.35) -> (44.4169, 23.35) projected
  line L19 (47.3, 23.35) -> (47.3, 27)
  line L20 (35.875, 11.7) -> (35.875, 6.5)
  line L21 (39.675, 11.7) -> (35.875, 11.7)
  line L22 (35.875, 11.7) -> (39.675, 6.5) construction
  line L23 (39.675, 11.7) -> (35.875, 6.5) construction
  line L24 (39.675, 6.5) -> (39.675, 11.7)
  line L25 (35.875, 6.5) -> (39.675, 6.5)
  line L26 (26.35, 11.7) -> (26.35, 6.5)
  line L27 (30.15, 11.7) -> (26.35, 11.7)
  line L28 (26.35, 11.7) -> (30.15, 6.5) construction
  line L29 (30.15, 11.7) -> (26.35, 6.5) construction
  line L30 (30.15, 6.5) -> (30.15, 11.7)
  line L31 (26.35, 6.5) -> (30.15, 6.5)
  line L32 (16.825, 11.7) -> (16.825, 6.5)
  line L33 (20.625, 11.7) -> (16.825, 11.7)
  line L34 (16.825, 11.7) -> (20.625, 6.5) construction
  line L35 (20.625, 11.7) -> (16.825, 6.5) construction
  line L36 (20.625, 6.5) -> (20.625, 11.7)
  line L37 (16.825, 6.5) -> (20.625, 6.5)
  line L38 (7.3, 11.7) -> (7.3, 6.5)
  line L39 (11.1, 11.7) -> (7.3, 11.7)
  line L40 (7.3, 11.7) -> (11.1, 6.5) construction
  line L41 (11.1, 11.7) -> (7.3, 6.5) construction
  line L42 (11.1, 6.5) -> (11.1, 11.7)
  line L43 (7.3, 6.5) -> (11.1, 6.5)
  point P0 (28.25, -4.4)
  point P1 (37.775, 9.1)
  point P2 (28.25, 9.1)
  point P3 (18.725, 9.1)
  point P4 (9.2, 9.1)
  dimension "d70" = 4.9
  dimension "d71" = 2.6
  dimension "d72" = 3.8
  dimension "d73" = 5.2
  dimension "d76" = 9.525
extrude "돌출15" cut sketch "스케치17" against normal blind 8 contours L14 L13 L12 L15 | L21 L24 L25 L20 | L27 L30 L31 L26 | L33 L36 L37 L32 | L39 L42 L43 L38
sketch "스케치18" plane through (-28.25, -29, 4.4) normal (0, -1, 0) x (1, 0, 0)
  line L0 (11.1, 6.5) -> (7.3, 6.5) projected
  line L1 (11.1, 11.7) -> (11.1, 6.5) projected
  line L2 (7.3, 11.7) -> (11.1, 11.7) projected
  line L3 (7.3, 6.5) -> (7.3, 11.7) projected
  line L4 (12.1, 5.5) -> (6.3, 5.5)
  line L5 (6.3, 12.7) -> (12.1, 12.7)
  line L6 (5.1, 12.7) -> (13.3, 12.7)
  line L7 (13.3, 12.7) -> (13.3, 5.5)
  line L8 (13.3, 5.5) -> (5.1, 5.5)
  line L9 (5.1, 5.5) -> (5.1, 12.7)
  line L10 (13.3, 12.7) -> (5.1, 5.5) construction
  line L11 (21.625, 5.5) -> (15.825, 5.5)
  line L12 (15.825, 12.7) -> (21.625, 12.7)
  line L13 (14.625, 12.7) -> (22.825, 12.7)
  line L14 (22.825, 12.7) -> (22.825, 5.5)
  line L15 (22.825, 5.5) -> (14.625, 5.5)
  line L16 (14.625, 5.5) -> (14.625, 12.7)
  line L17 (31.15, 5.5) -> (25.35, 5.5)
  line L18 (25.35, 12.7) -> (31.15, 12.7)
  line L19 (24.15, 12.7) -> (32.35, 12.7)
  line L20 (32.35, 12.7) -> (32.35, 5.5)
  line L21 (32.35, 5.5) -> (24.15, 5.5)
  line L22 (24.15, 5.5) -> (24.15, 12.7)
  line L23 (40.675, 5.5) -> (34.875, 5.5)
  line L24 (34.875, 12.7) -> (40.675, 12.7)
  line L25 (33.675, 12.7) -> (41.875, 12.7)
  line L26 (41.875, 12.7) -> (41.875, 5.5)
  line L27 (41.875, 5.5) -> (33.675, 5.5)
  line L28 (33.675, 5.5) -> (33.675, 12.7)
  line L29 (50.2, 5.5) -> (44.4, 5.5)
  line L30 (44.4, 12.7) -> (50.2, 12.7)
  line L31 (43.2, 12.7) -> (51.4, 12.7)
  line L32 (51.4, 12.7) -> (51.4, 5.5)
  line L33 (51.4, 5.5) -> (43.2, 5.5)
  line L34 (43.2, 5.5) -> (43.2, 12.7)
  point P0 (28.25, -4.4)
  point P1 (9.2, 9.1)
  point P2 (50.2, 12.7)
  point P3 (44.4, 12.7)
  point P4 (31.15, 12.7)
  point P5 (25.35, 12.7)
  point P6 (12.1, 12.7)
  point P7 (6.3, 12.7)
  point P8 (6.3, 5.5)
  dimension "d84" = 8.2
  dimension "d87" = 9.525
extrude "돌출16" cut sketch "스케치18" against normal blind 1.2
chamfer "모따기2" distance 1.2 distance2 2.2 1 edges at (-17.15, -27.8, 13.5) measured on face at (-17.15, -25.5333, 12.6333)
chamfer "모따기3" distance 1.2 distance2 2.2 1 edges at (-20.95, -27.8, 13.5) measured on face at (-20.95, -25.5333, 14.3667)
chamfer "모따기4" distance 1.2 distance2 1 1 edges at (-19.05, -27.8, 16.1) measured on face at (-19.6833, -24.7337, 16.1)
chamfer "모따기5" distance 1.2 distance2 1 1 edges at (-19.05, -27.8, 10.9) measured on face at (-19.6833, -24.7337, 10.9)
pattern_linear "직사각형 패턴1" count 5 spacing 9.525 along (1, 0, 0) of "모따기3", "모따기4", "모따기5", "돌출15", "모따기2", "돌출16"
properties part number "Driver"
